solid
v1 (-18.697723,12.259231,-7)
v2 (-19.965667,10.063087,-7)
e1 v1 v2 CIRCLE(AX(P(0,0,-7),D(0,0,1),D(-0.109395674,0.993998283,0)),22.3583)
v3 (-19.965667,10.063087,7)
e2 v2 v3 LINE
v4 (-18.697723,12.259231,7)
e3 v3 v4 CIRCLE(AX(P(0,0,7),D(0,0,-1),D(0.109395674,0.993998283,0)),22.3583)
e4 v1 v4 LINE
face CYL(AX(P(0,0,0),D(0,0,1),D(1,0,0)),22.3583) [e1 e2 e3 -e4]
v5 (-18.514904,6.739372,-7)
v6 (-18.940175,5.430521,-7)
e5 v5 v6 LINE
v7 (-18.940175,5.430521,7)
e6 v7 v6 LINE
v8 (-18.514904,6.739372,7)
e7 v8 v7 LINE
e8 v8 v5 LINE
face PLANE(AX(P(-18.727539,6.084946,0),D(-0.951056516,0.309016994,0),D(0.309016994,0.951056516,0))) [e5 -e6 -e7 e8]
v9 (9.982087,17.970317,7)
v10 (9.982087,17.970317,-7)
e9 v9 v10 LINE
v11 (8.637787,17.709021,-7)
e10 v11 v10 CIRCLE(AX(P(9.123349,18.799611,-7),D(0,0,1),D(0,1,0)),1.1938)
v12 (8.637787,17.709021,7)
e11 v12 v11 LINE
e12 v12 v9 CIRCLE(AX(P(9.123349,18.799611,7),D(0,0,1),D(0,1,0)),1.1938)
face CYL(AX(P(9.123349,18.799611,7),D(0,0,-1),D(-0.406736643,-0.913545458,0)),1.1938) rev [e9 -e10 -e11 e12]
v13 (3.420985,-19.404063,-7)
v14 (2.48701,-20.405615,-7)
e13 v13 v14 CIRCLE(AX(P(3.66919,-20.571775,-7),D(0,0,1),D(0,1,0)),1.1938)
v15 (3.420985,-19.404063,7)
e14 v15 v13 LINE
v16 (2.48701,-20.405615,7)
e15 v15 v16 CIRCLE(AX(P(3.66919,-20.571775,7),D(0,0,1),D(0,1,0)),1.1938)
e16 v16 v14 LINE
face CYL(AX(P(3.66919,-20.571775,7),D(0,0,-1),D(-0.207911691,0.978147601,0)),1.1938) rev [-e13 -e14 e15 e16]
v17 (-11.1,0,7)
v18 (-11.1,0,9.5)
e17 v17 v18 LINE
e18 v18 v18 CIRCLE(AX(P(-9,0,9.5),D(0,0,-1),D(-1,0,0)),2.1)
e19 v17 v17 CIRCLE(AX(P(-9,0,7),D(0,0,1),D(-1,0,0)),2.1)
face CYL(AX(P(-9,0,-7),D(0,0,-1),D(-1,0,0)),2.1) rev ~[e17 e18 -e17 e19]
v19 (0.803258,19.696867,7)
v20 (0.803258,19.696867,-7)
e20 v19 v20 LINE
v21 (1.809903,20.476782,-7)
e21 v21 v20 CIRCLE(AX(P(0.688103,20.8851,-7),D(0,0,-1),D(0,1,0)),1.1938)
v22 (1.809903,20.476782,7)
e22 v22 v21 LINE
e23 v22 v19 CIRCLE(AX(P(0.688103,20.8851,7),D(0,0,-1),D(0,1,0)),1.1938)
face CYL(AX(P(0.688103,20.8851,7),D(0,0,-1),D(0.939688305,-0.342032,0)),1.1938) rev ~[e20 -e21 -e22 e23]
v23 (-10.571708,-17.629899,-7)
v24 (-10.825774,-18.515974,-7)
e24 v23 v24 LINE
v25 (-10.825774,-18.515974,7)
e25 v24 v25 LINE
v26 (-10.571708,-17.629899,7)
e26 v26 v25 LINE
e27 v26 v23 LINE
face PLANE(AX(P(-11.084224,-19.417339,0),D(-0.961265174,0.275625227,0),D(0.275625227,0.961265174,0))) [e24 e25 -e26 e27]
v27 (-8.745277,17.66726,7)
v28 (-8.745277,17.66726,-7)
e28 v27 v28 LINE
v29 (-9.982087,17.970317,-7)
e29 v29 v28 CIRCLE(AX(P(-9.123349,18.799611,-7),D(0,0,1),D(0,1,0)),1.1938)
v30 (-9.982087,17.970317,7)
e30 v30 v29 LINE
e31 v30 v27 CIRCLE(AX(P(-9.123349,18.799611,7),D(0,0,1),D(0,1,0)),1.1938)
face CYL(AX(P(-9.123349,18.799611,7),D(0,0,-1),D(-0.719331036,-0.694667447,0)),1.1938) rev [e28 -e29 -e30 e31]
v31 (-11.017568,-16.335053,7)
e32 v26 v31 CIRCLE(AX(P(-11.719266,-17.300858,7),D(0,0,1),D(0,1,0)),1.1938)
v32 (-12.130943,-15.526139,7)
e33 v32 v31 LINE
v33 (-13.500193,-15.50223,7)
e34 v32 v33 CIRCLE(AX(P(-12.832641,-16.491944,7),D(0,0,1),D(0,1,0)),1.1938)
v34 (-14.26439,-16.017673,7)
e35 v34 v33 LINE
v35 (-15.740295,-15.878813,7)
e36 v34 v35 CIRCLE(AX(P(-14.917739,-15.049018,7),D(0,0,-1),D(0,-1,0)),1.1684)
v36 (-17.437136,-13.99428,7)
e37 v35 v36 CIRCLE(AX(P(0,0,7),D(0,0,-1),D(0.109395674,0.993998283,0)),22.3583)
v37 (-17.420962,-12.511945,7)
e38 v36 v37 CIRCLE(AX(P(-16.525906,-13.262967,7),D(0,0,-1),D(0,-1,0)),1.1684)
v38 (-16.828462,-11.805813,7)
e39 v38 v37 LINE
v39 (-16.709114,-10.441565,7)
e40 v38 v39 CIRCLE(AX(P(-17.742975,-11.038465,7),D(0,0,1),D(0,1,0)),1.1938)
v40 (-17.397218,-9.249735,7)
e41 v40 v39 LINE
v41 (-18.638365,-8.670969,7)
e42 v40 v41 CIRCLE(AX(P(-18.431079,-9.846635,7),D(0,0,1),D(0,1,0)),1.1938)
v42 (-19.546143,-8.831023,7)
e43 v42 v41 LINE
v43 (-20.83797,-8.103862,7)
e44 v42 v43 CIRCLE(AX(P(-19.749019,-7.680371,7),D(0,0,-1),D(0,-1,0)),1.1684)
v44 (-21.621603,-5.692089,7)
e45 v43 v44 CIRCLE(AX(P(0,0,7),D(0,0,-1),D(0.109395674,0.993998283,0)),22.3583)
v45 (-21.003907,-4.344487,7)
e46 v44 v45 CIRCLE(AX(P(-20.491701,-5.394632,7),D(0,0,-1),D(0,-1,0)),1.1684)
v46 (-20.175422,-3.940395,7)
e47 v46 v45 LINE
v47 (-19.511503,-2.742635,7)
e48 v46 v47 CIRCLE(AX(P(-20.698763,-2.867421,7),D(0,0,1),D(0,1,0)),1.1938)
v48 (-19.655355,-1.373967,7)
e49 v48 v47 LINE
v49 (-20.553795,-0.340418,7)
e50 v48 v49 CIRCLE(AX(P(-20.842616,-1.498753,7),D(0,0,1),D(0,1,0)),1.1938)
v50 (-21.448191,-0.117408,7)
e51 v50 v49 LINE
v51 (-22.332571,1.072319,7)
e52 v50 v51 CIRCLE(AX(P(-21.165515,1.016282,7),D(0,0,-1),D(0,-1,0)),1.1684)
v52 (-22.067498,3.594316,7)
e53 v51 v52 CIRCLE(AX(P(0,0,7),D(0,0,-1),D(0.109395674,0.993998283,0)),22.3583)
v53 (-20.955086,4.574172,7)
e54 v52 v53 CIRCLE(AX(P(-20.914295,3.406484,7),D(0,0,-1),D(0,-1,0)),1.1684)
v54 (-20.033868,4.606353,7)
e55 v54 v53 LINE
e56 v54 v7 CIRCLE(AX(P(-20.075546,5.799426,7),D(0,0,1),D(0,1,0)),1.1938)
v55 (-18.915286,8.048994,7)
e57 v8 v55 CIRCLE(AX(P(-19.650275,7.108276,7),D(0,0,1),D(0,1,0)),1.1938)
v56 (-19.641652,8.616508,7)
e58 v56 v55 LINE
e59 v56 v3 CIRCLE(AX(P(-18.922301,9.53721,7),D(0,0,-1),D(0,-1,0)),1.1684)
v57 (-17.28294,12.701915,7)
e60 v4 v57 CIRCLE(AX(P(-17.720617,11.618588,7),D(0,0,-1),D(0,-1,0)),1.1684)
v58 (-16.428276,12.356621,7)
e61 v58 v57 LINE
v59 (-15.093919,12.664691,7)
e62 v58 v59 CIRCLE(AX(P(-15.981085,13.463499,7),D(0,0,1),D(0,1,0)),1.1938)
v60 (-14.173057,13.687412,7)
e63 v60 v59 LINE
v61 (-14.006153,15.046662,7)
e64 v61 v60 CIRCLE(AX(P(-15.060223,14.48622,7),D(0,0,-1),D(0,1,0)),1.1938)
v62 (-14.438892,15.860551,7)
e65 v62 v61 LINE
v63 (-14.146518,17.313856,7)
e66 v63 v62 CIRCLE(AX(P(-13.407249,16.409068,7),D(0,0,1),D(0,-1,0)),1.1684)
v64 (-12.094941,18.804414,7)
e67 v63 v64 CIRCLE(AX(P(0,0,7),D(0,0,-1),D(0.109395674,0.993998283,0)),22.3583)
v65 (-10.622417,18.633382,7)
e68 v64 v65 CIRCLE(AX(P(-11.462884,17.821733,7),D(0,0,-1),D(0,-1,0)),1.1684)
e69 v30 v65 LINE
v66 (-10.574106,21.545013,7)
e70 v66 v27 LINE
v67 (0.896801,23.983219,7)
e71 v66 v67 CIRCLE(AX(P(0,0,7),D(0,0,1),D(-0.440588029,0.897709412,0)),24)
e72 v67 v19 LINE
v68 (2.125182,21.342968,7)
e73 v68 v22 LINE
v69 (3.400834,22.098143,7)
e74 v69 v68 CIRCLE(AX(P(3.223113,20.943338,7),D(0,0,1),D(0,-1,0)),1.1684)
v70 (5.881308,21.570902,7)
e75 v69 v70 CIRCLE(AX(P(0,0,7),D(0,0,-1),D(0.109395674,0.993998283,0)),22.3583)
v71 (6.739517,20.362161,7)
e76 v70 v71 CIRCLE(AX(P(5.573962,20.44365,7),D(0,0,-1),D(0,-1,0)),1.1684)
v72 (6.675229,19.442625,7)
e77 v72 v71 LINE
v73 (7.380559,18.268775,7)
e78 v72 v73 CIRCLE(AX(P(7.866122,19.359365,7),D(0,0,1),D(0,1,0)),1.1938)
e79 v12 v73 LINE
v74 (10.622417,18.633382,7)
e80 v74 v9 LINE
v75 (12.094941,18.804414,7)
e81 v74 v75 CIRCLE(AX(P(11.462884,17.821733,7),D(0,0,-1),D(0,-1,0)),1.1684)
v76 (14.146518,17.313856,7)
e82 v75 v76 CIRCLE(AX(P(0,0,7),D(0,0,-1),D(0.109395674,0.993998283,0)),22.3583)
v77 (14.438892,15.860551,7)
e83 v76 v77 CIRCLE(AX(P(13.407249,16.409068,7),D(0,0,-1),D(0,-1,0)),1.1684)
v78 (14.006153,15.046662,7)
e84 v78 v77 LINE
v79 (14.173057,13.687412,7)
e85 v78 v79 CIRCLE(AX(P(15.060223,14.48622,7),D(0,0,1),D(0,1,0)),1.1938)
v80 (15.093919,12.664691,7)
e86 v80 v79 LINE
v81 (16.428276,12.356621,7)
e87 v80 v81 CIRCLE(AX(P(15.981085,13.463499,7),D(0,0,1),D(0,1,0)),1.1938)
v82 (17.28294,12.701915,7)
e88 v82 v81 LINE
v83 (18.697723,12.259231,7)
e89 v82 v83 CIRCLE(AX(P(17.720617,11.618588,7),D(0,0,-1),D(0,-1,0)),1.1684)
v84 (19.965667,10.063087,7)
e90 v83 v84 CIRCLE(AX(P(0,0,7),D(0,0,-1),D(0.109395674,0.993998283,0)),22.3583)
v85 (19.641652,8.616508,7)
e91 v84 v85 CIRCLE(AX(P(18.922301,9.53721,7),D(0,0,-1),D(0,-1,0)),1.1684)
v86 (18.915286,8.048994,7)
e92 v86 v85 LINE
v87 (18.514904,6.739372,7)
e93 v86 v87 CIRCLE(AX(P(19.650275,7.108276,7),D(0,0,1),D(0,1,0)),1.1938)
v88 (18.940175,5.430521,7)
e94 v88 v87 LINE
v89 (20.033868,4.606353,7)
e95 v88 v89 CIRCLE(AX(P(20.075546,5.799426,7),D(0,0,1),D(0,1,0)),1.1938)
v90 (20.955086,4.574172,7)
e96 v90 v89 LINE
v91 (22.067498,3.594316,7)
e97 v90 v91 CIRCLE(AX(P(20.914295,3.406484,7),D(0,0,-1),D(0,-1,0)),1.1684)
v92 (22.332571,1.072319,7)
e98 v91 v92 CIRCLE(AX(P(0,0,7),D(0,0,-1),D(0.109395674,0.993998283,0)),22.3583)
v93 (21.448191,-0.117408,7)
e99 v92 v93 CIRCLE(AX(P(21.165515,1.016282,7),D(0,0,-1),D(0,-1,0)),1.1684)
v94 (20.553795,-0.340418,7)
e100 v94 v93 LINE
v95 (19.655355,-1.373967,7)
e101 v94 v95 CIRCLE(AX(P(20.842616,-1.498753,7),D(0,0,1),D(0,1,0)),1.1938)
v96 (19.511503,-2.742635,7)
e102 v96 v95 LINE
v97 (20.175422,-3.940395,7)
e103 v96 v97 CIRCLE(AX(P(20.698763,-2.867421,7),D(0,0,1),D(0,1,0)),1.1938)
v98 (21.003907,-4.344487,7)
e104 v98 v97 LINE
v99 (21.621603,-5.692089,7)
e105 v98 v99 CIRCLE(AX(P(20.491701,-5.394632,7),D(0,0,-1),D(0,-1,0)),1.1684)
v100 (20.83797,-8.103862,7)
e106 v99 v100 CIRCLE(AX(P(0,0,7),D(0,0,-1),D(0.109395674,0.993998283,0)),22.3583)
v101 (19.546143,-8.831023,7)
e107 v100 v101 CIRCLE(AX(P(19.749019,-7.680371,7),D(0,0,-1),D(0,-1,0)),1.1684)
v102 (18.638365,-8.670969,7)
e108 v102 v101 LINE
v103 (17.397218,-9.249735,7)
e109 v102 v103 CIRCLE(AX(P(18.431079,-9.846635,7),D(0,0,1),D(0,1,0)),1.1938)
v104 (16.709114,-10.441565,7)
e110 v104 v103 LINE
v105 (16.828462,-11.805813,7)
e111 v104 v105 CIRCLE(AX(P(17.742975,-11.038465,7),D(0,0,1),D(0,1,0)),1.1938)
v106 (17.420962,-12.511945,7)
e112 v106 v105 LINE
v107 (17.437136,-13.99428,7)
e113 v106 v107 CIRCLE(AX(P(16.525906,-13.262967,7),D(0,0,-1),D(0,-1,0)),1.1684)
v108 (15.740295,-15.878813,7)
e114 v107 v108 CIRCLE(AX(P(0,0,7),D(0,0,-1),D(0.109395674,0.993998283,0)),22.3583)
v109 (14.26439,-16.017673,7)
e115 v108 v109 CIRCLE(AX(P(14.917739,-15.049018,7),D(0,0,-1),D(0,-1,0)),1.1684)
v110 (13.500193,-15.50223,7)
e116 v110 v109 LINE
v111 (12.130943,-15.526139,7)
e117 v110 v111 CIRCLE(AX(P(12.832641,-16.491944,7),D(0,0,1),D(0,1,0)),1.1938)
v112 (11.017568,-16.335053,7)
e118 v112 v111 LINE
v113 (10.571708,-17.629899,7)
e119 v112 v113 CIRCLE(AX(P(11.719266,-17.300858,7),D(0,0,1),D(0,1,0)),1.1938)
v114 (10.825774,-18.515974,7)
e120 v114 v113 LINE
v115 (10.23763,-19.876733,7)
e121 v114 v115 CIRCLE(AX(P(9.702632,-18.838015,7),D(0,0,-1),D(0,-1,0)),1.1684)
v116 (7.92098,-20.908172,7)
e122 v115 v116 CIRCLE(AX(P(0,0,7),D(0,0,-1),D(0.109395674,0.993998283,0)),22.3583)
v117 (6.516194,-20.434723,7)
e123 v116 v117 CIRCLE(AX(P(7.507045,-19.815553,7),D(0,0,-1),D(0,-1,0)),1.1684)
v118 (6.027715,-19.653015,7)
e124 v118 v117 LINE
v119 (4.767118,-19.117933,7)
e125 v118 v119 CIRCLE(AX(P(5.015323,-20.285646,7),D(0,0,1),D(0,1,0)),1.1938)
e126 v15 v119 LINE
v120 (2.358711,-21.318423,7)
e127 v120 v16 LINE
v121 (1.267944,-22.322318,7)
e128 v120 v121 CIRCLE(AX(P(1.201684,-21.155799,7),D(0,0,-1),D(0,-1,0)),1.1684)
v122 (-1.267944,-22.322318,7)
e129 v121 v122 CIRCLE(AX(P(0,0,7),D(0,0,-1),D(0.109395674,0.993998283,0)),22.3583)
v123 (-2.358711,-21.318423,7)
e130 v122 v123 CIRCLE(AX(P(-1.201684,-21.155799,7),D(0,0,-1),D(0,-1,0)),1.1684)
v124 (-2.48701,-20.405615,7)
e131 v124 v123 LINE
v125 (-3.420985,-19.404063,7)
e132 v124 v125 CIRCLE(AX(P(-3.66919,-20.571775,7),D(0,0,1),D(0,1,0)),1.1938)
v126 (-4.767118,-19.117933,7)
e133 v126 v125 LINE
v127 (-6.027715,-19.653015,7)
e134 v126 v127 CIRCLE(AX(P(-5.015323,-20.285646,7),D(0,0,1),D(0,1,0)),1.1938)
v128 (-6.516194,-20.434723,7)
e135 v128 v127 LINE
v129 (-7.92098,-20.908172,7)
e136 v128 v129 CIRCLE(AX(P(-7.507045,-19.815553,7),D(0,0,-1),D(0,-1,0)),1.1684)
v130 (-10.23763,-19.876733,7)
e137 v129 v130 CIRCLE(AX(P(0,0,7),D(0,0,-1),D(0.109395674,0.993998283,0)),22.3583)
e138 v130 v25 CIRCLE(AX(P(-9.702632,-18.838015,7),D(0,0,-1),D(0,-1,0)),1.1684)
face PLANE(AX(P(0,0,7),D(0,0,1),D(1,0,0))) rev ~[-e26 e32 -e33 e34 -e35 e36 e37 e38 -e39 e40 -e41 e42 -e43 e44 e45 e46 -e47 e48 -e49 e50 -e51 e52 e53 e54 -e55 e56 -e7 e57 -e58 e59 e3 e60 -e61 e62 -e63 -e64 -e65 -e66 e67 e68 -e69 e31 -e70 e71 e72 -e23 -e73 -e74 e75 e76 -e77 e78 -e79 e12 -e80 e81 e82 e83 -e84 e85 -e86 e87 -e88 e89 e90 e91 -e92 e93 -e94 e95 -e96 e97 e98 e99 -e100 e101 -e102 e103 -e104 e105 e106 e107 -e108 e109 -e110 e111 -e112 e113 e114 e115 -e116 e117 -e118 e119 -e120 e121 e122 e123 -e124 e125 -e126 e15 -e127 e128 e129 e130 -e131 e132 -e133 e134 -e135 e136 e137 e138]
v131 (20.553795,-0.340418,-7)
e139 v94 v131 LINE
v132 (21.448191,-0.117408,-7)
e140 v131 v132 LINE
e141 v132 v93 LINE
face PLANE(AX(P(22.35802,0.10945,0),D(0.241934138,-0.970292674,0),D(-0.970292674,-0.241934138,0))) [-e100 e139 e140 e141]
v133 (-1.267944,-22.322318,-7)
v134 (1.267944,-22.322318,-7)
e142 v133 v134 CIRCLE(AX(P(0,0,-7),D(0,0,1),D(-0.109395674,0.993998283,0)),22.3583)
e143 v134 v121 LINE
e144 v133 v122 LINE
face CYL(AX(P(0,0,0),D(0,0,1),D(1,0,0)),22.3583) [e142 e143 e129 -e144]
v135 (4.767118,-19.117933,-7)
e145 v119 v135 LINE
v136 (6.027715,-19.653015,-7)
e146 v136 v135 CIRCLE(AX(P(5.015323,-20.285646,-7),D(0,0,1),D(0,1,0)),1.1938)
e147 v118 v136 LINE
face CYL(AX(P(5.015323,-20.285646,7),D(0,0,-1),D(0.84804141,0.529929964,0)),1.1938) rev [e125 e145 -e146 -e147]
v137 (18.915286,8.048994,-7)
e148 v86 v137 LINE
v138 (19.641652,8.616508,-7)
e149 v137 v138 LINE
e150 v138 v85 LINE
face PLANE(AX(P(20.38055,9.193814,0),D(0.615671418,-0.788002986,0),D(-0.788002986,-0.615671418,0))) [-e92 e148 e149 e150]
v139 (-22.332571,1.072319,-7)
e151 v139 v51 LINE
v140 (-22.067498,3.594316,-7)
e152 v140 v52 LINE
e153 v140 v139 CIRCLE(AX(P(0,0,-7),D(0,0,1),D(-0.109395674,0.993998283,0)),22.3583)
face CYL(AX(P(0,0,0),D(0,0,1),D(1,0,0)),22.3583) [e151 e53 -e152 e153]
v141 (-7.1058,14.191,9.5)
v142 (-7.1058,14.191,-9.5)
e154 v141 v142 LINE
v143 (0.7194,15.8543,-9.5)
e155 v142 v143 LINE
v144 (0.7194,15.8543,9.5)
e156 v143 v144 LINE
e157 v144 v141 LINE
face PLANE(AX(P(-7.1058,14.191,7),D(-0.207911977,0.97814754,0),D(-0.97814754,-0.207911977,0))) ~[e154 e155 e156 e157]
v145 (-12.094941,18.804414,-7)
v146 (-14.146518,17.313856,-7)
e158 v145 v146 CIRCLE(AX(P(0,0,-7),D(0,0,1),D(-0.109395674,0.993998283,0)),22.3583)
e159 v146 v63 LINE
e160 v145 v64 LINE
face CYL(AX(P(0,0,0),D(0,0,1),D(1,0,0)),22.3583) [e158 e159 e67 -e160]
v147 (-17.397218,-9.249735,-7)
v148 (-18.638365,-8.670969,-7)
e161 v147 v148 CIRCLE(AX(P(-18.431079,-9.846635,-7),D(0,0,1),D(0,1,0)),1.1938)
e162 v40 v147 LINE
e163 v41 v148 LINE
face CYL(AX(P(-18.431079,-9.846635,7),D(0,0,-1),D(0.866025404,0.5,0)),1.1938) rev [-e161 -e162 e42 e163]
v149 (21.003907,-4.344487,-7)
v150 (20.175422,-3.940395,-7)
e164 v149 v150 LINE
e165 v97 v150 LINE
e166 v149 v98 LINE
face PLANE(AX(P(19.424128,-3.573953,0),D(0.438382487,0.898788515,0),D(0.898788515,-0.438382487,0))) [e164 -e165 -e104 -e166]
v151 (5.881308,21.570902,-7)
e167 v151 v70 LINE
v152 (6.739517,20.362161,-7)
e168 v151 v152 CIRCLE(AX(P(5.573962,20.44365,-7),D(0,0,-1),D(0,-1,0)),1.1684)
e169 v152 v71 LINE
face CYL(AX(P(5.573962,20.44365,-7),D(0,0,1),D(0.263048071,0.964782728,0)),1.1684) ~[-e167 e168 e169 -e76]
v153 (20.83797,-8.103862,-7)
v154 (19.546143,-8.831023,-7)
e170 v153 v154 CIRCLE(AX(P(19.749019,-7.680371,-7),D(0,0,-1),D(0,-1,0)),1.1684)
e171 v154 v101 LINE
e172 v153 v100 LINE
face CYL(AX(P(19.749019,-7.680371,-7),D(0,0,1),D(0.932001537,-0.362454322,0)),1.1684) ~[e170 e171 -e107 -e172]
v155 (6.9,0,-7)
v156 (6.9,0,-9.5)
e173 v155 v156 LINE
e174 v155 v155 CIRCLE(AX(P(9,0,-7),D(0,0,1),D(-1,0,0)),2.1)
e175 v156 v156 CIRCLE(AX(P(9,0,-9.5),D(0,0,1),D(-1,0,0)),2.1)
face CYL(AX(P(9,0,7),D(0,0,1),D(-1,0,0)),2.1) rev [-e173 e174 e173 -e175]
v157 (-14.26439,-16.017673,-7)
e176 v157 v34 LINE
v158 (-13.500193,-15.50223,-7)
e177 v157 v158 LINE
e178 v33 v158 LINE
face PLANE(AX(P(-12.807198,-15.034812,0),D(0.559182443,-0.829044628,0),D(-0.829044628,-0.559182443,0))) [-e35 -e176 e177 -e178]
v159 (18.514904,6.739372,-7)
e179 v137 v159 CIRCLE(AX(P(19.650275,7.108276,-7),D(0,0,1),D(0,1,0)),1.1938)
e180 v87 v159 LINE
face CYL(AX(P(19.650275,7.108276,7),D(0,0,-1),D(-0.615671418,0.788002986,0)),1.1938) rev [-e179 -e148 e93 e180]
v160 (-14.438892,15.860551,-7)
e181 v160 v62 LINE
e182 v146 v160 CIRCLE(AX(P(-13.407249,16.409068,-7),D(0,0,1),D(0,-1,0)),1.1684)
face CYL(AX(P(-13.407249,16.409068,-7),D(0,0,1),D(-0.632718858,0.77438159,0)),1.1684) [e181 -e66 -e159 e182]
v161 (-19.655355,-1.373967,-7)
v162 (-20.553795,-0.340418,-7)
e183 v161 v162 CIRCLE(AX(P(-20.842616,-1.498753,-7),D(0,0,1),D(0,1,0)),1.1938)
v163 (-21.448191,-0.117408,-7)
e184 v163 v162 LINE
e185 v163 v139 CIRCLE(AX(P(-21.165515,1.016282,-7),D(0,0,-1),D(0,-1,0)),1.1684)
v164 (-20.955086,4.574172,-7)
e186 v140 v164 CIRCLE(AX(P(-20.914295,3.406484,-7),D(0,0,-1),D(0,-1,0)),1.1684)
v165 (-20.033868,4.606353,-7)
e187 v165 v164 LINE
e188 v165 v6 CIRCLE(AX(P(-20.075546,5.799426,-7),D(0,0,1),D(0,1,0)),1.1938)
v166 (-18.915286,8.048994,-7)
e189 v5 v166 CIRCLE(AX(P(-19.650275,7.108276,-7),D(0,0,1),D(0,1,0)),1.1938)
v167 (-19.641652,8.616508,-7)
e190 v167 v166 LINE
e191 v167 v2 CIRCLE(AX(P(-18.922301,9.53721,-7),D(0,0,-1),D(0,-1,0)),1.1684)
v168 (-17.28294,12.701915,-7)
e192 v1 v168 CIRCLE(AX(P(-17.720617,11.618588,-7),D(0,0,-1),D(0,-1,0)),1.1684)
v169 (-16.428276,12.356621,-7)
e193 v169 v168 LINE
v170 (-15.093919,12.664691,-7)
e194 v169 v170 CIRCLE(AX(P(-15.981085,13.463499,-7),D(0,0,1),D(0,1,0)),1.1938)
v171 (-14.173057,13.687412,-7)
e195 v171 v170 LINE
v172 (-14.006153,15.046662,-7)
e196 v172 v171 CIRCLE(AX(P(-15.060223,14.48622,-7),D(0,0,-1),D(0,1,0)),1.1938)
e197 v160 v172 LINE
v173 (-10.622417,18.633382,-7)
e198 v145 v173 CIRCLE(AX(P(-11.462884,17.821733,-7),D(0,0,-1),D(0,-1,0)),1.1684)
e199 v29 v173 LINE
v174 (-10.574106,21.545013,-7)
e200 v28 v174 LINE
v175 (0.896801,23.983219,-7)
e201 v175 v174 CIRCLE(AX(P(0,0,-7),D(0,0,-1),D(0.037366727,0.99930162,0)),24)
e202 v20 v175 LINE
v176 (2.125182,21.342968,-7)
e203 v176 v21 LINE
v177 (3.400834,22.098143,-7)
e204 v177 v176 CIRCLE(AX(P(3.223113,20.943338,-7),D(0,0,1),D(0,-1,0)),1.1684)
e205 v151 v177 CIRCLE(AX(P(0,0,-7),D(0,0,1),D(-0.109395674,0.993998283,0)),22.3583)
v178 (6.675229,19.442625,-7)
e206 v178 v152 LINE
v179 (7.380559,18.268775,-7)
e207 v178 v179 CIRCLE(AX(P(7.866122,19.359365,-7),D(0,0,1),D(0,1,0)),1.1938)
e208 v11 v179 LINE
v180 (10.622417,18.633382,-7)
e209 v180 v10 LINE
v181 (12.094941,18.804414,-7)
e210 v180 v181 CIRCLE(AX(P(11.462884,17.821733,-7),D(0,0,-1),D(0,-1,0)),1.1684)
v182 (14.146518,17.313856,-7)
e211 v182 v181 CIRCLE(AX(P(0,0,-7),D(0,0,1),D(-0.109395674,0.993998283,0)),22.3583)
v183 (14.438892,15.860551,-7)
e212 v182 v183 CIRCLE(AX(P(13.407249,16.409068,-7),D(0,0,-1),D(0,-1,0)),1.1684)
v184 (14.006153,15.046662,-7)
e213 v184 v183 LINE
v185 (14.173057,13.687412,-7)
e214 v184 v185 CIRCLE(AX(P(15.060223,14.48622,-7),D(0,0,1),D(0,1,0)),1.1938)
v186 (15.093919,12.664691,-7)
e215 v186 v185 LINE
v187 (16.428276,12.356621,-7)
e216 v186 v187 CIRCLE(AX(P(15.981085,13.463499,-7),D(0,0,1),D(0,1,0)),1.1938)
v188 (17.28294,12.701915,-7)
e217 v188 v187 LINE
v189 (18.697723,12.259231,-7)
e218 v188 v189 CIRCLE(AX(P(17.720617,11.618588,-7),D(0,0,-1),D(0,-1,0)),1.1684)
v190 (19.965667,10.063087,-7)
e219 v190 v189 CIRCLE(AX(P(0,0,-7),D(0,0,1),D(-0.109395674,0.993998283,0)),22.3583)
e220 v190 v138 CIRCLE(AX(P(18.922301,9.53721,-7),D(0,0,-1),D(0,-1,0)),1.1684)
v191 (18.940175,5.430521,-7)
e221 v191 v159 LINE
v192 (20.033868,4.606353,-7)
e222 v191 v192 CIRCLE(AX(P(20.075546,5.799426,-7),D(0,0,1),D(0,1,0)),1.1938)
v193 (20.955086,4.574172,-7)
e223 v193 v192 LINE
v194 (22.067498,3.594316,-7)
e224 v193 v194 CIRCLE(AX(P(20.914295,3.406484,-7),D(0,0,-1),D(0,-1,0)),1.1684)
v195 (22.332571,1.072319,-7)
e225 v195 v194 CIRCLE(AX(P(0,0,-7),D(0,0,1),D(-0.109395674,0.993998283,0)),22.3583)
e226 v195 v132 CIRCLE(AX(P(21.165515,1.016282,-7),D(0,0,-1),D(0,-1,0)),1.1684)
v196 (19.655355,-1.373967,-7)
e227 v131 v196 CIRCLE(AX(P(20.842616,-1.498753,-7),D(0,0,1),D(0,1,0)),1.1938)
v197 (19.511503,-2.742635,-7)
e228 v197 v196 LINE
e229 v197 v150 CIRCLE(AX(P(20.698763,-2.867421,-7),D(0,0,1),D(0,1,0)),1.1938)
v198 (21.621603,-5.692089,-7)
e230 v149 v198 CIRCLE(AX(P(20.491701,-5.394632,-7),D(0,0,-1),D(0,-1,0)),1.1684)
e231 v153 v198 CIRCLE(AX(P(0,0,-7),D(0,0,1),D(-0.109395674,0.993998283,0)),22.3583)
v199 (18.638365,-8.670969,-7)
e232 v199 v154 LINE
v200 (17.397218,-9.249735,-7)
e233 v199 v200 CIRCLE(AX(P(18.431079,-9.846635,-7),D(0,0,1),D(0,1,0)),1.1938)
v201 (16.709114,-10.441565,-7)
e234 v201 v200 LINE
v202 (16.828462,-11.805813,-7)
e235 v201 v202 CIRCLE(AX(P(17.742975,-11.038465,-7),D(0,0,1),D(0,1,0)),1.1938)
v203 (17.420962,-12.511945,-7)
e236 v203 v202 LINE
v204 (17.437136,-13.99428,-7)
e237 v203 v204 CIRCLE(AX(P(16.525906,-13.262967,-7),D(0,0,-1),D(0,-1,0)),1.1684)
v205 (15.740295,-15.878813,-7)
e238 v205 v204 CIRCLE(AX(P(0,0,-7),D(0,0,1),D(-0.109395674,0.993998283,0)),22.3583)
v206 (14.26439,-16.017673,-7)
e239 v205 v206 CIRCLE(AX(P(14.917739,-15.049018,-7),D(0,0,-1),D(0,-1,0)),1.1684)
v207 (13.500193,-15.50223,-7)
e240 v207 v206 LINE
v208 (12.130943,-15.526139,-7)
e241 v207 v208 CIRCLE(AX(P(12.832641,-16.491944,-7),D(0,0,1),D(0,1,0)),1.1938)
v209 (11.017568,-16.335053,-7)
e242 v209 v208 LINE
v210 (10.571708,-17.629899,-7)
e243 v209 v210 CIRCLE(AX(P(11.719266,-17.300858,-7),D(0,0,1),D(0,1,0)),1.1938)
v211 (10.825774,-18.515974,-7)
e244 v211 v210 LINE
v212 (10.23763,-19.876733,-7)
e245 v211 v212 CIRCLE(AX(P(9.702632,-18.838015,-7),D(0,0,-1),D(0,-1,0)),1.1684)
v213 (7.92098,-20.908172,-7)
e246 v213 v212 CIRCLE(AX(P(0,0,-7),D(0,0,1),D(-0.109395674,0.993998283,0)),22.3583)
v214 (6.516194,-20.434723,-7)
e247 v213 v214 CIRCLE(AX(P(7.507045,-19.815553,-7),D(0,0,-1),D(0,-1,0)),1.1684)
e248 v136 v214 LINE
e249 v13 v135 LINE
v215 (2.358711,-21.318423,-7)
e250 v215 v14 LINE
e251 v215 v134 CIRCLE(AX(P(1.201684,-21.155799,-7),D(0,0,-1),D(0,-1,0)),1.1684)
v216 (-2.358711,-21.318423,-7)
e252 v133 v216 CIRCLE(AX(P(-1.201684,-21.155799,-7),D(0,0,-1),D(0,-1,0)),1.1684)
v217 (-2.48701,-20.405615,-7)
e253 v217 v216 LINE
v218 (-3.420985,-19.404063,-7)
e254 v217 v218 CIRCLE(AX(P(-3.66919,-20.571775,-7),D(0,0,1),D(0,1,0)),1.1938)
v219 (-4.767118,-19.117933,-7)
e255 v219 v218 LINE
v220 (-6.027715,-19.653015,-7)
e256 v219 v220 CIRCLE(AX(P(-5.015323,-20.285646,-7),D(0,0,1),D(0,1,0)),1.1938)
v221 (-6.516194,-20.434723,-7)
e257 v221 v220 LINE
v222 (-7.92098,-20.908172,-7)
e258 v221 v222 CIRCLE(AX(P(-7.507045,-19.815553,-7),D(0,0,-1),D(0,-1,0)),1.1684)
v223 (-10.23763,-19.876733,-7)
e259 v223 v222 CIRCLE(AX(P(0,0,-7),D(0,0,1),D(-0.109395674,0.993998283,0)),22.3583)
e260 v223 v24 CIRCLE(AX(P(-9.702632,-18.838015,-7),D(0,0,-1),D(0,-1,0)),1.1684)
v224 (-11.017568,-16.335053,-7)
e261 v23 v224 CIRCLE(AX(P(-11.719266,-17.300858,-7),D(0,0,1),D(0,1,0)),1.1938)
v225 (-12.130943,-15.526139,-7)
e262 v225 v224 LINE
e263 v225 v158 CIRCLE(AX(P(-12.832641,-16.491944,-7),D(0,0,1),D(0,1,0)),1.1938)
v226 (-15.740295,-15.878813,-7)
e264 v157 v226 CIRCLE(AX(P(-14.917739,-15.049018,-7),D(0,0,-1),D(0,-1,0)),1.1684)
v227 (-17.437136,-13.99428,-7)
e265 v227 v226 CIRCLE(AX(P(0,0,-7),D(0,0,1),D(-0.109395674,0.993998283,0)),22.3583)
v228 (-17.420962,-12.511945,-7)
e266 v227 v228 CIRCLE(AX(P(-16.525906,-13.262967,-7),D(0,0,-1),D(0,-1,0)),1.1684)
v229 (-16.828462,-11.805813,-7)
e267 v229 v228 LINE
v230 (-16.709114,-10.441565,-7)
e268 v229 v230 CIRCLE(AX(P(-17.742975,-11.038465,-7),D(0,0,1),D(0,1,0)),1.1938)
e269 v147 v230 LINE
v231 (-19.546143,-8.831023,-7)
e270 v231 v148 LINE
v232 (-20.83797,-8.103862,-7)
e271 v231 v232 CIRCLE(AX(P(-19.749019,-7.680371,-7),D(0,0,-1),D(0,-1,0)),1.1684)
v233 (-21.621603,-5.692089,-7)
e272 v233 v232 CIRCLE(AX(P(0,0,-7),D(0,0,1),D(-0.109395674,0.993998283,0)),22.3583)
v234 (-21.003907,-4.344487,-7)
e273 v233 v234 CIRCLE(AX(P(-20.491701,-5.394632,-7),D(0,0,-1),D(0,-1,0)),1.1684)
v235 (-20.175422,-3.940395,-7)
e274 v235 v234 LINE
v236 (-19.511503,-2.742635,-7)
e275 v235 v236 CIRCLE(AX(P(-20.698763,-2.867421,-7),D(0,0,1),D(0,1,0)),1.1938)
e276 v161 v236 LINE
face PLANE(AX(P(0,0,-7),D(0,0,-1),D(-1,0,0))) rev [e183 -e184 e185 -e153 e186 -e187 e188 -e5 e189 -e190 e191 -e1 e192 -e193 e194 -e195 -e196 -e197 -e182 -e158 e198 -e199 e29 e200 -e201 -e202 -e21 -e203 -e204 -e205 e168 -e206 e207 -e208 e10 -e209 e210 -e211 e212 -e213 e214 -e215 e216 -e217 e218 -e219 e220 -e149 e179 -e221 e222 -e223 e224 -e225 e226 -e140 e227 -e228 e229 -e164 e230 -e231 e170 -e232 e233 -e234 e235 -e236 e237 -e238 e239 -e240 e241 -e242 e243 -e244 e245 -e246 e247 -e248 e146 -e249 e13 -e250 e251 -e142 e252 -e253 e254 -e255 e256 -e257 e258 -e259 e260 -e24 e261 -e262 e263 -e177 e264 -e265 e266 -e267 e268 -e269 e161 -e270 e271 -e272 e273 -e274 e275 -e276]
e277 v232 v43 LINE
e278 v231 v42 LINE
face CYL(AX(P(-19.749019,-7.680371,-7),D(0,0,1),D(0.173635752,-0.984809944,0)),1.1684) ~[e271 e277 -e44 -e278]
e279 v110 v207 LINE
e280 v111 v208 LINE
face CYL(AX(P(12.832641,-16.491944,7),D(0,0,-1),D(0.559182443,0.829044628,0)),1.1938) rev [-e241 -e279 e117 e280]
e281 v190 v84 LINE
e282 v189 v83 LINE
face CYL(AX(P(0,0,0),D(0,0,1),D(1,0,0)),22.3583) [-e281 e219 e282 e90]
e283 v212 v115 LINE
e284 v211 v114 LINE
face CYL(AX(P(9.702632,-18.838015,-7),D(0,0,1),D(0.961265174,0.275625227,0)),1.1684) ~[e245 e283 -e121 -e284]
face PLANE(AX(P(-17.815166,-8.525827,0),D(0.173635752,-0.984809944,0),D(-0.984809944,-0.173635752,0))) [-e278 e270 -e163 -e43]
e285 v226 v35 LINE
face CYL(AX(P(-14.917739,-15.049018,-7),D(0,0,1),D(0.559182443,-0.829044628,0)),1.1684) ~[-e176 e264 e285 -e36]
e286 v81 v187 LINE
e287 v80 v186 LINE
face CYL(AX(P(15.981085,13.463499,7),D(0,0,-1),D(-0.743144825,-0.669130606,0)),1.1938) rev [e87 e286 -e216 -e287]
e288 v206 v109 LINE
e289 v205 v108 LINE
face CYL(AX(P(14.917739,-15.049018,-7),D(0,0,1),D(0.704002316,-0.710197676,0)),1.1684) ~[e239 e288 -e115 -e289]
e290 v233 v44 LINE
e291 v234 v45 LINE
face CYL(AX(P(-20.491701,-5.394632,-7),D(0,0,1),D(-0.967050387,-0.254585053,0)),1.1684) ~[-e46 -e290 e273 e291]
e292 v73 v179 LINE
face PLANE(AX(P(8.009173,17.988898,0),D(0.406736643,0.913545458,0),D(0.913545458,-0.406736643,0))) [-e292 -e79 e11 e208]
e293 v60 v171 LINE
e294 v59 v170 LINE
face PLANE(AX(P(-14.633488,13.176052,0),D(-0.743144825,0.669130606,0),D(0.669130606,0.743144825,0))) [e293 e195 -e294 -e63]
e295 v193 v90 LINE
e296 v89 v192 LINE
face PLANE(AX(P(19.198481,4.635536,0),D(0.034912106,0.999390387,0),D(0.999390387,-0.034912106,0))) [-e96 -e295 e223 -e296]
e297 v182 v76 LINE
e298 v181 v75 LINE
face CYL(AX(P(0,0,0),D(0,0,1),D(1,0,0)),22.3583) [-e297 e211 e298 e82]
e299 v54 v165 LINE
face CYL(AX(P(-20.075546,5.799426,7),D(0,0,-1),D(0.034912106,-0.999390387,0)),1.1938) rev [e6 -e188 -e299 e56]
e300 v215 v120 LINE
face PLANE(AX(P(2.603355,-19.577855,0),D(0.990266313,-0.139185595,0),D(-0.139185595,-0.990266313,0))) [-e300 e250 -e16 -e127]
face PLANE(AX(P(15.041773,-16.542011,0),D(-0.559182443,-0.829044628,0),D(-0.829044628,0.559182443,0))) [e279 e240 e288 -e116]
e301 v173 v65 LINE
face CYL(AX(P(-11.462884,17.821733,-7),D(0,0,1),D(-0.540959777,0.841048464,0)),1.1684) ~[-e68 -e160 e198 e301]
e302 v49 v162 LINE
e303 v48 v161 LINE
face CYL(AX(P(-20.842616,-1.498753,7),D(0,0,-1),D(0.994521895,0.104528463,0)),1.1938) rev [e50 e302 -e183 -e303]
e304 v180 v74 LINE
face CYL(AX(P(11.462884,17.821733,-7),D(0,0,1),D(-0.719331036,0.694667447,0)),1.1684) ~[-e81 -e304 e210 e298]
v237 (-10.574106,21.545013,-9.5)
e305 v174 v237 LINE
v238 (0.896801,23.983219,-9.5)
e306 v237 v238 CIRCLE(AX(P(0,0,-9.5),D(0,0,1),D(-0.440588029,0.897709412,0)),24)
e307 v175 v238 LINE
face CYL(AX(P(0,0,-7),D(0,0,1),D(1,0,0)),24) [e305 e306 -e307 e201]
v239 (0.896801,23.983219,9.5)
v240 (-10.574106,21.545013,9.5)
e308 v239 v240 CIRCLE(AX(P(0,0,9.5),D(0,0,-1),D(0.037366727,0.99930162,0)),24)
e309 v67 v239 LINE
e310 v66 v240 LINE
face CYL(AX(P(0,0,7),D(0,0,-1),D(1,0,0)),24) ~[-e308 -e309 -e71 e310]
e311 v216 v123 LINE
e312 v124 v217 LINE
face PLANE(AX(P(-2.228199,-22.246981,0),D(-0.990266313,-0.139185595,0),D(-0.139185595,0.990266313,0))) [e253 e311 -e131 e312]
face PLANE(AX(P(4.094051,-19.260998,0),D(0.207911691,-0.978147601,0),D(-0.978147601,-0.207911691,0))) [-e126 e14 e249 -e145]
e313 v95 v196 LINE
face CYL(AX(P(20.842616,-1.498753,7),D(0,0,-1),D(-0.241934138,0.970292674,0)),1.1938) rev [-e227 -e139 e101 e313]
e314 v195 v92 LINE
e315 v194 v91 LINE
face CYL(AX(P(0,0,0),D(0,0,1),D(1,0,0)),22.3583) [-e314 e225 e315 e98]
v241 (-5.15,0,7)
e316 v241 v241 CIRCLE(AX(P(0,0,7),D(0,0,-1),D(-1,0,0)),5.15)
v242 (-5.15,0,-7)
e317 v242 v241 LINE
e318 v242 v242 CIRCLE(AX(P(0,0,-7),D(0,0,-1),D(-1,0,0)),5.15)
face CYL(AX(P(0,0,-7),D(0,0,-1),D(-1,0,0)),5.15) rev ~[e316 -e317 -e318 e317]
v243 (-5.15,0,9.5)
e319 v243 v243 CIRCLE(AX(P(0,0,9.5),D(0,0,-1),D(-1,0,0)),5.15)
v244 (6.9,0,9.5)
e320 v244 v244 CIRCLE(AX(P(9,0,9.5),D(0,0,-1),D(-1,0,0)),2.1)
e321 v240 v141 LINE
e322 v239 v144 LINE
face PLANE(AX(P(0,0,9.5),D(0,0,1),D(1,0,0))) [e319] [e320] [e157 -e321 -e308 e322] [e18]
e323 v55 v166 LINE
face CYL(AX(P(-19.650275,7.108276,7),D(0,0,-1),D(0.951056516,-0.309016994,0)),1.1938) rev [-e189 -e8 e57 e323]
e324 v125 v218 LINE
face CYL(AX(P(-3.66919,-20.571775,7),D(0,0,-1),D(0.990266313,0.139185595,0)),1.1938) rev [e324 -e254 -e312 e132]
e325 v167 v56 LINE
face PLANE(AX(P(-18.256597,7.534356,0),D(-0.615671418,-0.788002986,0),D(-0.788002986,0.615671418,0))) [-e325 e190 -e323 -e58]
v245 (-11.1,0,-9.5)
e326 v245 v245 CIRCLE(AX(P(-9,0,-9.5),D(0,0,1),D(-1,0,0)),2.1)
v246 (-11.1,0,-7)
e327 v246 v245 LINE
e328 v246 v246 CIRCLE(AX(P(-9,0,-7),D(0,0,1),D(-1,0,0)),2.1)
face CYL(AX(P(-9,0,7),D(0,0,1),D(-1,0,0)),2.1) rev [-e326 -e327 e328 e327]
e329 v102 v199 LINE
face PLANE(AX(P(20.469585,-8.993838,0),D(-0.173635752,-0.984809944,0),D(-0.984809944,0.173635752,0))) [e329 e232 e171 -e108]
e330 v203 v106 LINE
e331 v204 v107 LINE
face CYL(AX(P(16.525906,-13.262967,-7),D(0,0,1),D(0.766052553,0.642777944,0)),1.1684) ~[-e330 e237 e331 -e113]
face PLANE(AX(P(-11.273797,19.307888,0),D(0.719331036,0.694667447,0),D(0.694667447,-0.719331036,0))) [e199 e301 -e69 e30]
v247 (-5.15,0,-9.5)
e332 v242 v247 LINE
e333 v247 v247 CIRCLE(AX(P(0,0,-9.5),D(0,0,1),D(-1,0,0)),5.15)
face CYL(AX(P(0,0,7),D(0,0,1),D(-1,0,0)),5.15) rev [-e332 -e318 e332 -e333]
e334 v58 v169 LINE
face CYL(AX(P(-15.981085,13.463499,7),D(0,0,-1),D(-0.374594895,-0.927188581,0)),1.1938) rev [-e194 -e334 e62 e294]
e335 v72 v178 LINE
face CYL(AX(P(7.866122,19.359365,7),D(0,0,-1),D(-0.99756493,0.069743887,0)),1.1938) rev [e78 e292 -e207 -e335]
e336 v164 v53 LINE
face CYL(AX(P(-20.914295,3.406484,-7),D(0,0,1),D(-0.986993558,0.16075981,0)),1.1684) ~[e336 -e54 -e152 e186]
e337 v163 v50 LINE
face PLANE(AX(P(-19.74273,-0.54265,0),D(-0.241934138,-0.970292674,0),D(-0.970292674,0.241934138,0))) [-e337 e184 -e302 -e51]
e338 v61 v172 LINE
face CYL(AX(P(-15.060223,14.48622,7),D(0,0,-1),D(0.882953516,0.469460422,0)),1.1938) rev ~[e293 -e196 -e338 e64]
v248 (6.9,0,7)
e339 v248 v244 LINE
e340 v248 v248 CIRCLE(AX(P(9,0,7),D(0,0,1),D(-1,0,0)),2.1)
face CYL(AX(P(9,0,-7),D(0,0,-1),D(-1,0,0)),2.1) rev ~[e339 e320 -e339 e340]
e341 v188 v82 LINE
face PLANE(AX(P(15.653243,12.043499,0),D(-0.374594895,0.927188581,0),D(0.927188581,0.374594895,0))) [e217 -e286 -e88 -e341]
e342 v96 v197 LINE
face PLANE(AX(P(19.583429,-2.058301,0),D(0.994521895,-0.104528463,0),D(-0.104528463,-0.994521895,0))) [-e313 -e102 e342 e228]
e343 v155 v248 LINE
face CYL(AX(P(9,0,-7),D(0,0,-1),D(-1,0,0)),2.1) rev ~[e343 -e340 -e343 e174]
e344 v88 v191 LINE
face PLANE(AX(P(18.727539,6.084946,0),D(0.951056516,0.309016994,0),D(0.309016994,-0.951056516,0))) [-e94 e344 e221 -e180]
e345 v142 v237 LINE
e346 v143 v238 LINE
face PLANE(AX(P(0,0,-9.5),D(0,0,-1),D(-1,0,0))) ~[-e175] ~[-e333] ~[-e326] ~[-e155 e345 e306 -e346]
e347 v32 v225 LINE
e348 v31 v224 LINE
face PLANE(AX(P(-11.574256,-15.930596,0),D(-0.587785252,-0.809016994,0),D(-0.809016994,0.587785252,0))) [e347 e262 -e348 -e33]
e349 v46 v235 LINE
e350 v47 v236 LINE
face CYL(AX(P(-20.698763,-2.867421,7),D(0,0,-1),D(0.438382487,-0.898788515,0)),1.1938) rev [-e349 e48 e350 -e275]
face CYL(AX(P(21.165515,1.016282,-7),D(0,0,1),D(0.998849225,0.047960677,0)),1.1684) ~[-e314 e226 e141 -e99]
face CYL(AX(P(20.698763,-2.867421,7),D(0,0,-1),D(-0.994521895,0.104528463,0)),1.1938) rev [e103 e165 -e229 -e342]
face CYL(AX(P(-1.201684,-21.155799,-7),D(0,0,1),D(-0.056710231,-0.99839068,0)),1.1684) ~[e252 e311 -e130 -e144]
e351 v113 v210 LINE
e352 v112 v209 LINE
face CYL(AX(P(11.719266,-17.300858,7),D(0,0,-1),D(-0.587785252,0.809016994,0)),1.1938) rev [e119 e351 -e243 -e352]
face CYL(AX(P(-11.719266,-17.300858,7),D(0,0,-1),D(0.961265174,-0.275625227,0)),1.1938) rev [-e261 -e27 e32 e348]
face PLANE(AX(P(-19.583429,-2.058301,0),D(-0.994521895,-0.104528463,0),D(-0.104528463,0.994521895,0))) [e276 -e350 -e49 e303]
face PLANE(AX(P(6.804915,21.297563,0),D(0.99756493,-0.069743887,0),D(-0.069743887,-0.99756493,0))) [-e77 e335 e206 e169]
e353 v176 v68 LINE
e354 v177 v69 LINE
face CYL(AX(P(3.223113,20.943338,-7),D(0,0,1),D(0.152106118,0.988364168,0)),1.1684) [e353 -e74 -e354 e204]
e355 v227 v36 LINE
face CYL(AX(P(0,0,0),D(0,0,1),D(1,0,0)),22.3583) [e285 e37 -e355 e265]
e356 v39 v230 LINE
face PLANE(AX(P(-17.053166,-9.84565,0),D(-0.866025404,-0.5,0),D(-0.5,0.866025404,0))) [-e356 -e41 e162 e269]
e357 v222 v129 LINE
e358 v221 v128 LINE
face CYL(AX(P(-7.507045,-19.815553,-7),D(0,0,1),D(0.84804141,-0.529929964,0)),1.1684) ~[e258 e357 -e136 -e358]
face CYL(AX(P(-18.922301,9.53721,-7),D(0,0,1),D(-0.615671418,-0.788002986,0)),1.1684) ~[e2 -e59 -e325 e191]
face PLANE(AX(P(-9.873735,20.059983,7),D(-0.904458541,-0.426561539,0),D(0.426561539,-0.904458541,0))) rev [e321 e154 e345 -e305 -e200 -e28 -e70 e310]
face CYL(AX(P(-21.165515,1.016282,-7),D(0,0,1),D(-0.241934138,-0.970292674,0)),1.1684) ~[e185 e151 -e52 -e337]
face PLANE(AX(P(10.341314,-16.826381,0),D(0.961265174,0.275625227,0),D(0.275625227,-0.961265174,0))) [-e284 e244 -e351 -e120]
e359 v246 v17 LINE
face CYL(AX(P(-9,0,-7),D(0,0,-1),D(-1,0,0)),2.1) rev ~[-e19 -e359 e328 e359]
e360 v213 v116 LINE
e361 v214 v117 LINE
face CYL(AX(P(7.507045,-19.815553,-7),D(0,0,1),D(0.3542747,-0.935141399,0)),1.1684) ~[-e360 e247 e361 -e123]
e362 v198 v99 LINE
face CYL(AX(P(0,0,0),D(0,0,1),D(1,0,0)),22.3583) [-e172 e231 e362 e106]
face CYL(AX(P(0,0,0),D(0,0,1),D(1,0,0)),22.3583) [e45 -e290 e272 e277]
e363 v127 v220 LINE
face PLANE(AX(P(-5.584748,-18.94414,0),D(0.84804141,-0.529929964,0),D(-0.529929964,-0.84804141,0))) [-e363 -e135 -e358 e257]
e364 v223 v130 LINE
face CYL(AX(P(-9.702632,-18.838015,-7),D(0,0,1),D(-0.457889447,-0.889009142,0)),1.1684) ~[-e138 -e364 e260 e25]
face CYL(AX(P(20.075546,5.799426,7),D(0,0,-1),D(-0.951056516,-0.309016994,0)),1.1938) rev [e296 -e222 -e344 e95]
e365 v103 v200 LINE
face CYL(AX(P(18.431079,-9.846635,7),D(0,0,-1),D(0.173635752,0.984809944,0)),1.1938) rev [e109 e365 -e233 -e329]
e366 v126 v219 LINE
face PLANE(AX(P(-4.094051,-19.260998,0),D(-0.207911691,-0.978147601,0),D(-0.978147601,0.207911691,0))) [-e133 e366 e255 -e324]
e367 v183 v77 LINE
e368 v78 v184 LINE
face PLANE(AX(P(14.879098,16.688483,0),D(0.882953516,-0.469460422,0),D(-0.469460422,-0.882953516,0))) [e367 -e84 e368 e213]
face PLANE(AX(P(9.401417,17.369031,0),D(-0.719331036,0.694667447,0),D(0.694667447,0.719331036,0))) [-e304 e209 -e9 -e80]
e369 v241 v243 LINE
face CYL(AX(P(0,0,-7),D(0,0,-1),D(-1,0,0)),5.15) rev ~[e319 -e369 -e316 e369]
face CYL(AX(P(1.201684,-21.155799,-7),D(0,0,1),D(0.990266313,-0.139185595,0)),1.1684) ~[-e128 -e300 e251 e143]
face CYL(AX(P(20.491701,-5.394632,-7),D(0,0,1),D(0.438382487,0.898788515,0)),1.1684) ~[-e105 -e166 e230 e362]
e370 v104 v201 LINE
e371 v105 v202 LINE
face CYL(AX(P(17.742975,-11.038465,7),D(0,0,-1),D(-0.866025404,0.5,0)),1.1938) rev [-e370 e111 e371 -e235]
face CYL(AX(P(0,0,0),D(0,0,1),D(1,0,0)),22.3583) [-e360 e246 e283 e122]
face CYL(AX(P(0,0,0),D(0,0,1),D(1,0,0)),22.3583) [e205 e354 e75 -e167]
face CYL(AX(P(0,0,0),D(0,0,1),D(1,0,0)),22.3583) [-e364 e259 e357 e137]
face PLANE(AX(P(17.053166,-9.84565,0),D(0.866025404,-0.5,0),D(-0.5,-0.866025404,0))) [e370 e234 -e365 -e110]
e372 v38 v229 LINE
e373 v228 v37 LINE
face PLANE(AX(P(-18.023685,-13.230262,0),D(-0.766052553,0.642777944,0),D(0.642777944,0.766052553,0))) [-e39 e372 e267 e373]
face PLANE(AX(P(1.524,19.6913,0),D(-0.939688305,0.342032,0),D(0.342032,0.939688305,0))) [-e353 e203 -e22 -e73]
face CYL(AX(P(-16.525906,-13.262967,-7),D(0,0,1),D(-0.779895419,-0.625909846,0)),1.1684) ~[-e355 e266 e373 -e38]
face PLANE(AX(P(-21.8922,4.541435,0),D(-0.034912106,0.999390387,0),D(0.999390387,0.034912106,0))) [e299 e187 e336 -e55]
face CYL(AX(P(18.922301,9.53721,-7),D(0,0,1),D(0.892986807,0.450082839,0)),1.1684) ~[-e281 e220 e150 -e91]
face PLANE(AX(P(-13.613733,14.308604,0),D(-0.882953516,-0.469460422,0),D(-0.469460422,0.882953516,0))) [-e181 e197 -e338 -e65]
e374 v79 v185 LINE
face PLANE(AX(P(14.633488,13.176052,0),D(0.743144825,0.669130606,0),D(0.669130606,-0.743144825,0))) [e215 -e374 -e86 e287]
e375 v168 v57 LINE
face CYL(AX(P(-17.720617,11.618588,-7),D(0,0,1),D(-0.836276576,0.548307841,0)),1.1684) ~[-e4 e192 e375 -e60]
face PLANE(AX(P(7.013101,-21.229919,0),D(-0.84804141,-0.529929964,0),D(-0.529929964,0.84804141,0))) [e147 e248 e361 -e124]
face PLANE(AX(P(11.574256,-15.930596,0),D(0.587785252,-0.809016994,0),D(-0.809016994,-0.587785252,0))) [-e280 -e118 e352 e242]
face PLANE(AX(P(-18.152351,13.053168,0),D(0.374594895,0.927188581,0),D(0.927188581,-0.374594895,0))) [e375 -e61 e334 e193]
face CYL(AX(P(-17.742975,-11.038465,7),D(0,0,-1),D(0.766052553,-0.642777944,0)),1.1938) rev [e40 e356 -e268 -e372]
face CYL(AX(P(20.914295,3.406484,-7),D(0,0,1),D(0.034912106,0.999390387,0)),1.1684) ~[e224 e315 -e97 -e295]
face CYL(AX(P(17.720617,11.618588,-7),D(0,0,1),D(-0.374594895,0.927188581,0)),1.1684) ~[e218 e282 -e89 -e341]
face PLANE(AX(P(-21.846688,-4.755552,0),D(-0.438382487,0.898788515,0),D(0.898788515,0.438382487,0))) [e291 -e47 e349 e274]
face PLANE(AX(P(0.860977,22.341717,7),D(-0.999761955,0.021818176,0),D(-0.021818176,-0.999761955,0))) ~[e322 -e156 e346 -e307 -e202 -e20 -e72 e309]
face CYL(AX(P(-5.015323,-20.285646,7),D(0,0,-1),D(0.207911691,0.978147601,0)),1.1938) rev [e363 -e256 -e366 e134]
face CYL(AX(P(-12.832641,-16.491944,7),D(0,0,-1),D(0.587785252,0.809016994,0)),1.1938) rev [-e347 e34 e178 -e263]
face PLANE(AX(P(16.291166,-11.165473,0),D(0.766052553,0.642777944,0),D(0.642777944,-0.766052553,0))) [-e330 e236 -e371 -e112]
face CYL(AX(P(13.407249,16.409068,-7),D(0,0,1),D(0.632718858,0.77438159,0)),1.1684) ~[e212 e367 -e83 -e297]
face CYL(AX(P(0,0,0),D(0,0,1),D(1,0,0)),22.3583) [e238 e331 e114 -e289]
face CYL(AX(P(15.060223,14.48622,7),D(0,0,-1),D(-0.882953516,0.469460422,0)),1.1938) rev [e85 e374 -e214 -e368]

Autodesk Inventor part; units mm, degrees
ref_plane "YZ Plane" through (0, 0, 0) normal (1, 0, 0) x (0, 1, 0)
ref_plane "XZ Plane" through (0, 0, 0) normal (0, 1, 0) x (-1, 0, 0)
sketch "プーリ スケッチ" plane through (0, 0, 0) normal (0, 0, 1) x (1, 0, 0)
  circle A0 centre (0, 0) radius 22.7393 construction
  circle A1 centre (0, 0) radius 22.3583
  circle A2 centre (0, 0) radius 19.6913
  line L0 (-2.4459, 22.2241) -> (-1.524, 19.6913)
  line L1 (-1.524, 19.6913) -> (1.524, 19.6913)
  line L2 (1.524, 19.6913) -> (2.4459, 22.2241)
  line L3 (0, 0) -> (0, 22.3583) construction
  point P0 (0, 19.6913)
  dimension "d0" = 45.4785
  dimension "d1" = 0.381
  dimension "d2" = 2.667
  dimension "d3" = 40
  dimension "d4" = 3.048
extrude "基本ボディ" add sketch "プーリ スケッチ" along normal mid plane 14 contours A2 | A1 L0 L1 L2 | L2 L1 L0 A1
extrude "歯" cut sketch "プーリ スケッチ" along normal through all both and the other way through all contours L2 L1 L0 A1 picked at (0, 21.4594)
fillet "Fillet" radius 1.1938 2 edges at (1.524, 19.6913, 0) (-1.524, 19.6913, 0)
fillet "Fillet" radius 1.1684 4 edges at (-2.4459, 22.2241, 3.5) (-2.4459, 22.2241, -3.5) (2.4459, 22.2241, 3.5) (2.4459, 22.2241, -3.5)
pattern_circular "Teeth" count 15 over 360 about axis through (0, 0, -10) along (0, 0, 1) of "歯", "Fillet"
sketch "スケッチ2" plane through (0, 0, 7) normal (0, 0, 1) x (1, 0, 0)
  circle A0 centre (0, 0) radius 24
  dimension "d17" = 48
extrude "押し出し3" add sketch "スケッチ2" along normal blind 2.5
sketch "スケッチ3" plane through (0, 0, -7) normal (0, 0, -1) x (-1, 0, 0)
  circle A0 centre (0, 0) radius 5.15
  circle A1 centre (0, 0) radius 9
  circle A2 centre (-9, 0) radius 2.1
  circle A3 centre (9, 0) radius 2.1
  dimension "d21" = 18
  dimension "d20" = 10.3
  dimension "d22" = 4.2
  dimension "d25" = 360
extrude "押し出し4" cut sketch "スケッチ3" against normal through all contours A0 | A1 A3 | A1 A3 | A2 A1 | A1 A2
sketch "スケッチ4" plane through (0, 0, -7) normal (0, 0, -1) x (-1, 0, 0)
  circle A0 centre (0, 0) radius 24
  arc A1 (3.4008, 22.0981) -> (2.1252, 21.3429) centre (3.2231, 20.9433) ccw projected
  arc A2 (5.8813, 21.5709) -> (3.4008, 22.0981) centre (0, 0) ccw projected
  line L0 (3.4008, 22.0981) -> (5.8813, 21.5709)
  circle A3 centre (0, 0) radius 22.3583
  line L1 (3.0166, 22.2166) -> (7.6378, 21.2343)
  line L2 (0.736, 22.7013) -> (8.5611, 21.038)
  line L3 (8.5611, 21.038) -> (7.1058, 14.191)
  line L4 (7.1058, 14.191) -> (-0.7194, 15.8543)
  line L5 (-0.7194, 15.8543) -> (0.736, 22.7013)
  line L6 (-0.7194, 15.8543) -> (-0.8968, 23.9832)
  circle A4 centre (0, 0) radius 24 projected
  line L7 (0, 0) -> (4.6485, 21.8697)
  line L8 (7.1058, 14.191) -> (10.5741, 21.545)
  point P0 (10.5741, 21.545)
  point P1 (10.5741, 21.545)
  dimension "d29" = 48
  dimension "d30" = 0
  dimension "d31" = 7
  dimension "d32" = 8
  dimension "d33" = 4
  dimension "d34" = 13.25
extrude "押し出し5" cut sketch "スケッチ4" against normal through all contours L8 A3 L3 L2 L1 L5 L6 A0 | L8 L3 A3 | A3 L5 L6 | L3 L4 L7 L0 A3 | A3 A2 L1 L2 L3 | L5 L2 L1 A2 A3 | A3 L0 L7 L4 L5 | L0 L7 A2 | A2 L7 L0
sketch "スケッチ5" plane through (0, 0, 9.5) normal (0, 0, 1) x (1, 0, 0)
  line L0 (-7.1058, 14.191) -> (-10.5741, 21.545) projected
  arc A0 (-10.5741, 21.545) -> (0.8968, 23.9832) centre (0, 0) ccw projected
  line L1 (0.8968, 23.9832) -> (0.7194, 15.8543) projected
  line L2 (0.7194, 15.8543) -> (-7.1058, 14.191) projected
  circle A1 centre (-9, 0) radius 2.1 projected
  circle A2 centre (9, 0) radius 2.1 projected
  circle A3 centre (0, 0) radius 5.15 projected
ref_plane "作業平面1" through (0, 0, 0) normal (0, 0, -1) x (-1, 0, 0)
mirror "ミラー1" about plane through (0, 0, 0) normal (0, 0, -1) of "押し出し3", "押し出し5", "押し出し4"
equation "\"d1\" = da_a"
equation "\"d2\" = da_hg"
equation "\"d3\" = 2 * da_fi"
equation "\"d4\" = da_bw"
equation "\"d5\" = da_bf"
equation "\"d7\" = da_bf"
equation "\"d9\" = da_rb"
equation "\"d10\" = da_rt"
equation "\"da_pb\" = 9.525"
equation "\"da_fi\" = 20deg"
equation "\"da_hg\" = 2.667"
equation "\"da_bw\" = 3.048"
equation "\"da_rb\" = 1.1938"
equation "\"da_rt\" = 1.1684"
equation "\"da_a\" = 0.381"
equation "\"da_bf\" = 14"
equation "\"da_wf\" = 1.27"
equation "\"da_hf\" = 1.651"
properties part number "歯付きプーリ2" material "ABS プラスチック"
